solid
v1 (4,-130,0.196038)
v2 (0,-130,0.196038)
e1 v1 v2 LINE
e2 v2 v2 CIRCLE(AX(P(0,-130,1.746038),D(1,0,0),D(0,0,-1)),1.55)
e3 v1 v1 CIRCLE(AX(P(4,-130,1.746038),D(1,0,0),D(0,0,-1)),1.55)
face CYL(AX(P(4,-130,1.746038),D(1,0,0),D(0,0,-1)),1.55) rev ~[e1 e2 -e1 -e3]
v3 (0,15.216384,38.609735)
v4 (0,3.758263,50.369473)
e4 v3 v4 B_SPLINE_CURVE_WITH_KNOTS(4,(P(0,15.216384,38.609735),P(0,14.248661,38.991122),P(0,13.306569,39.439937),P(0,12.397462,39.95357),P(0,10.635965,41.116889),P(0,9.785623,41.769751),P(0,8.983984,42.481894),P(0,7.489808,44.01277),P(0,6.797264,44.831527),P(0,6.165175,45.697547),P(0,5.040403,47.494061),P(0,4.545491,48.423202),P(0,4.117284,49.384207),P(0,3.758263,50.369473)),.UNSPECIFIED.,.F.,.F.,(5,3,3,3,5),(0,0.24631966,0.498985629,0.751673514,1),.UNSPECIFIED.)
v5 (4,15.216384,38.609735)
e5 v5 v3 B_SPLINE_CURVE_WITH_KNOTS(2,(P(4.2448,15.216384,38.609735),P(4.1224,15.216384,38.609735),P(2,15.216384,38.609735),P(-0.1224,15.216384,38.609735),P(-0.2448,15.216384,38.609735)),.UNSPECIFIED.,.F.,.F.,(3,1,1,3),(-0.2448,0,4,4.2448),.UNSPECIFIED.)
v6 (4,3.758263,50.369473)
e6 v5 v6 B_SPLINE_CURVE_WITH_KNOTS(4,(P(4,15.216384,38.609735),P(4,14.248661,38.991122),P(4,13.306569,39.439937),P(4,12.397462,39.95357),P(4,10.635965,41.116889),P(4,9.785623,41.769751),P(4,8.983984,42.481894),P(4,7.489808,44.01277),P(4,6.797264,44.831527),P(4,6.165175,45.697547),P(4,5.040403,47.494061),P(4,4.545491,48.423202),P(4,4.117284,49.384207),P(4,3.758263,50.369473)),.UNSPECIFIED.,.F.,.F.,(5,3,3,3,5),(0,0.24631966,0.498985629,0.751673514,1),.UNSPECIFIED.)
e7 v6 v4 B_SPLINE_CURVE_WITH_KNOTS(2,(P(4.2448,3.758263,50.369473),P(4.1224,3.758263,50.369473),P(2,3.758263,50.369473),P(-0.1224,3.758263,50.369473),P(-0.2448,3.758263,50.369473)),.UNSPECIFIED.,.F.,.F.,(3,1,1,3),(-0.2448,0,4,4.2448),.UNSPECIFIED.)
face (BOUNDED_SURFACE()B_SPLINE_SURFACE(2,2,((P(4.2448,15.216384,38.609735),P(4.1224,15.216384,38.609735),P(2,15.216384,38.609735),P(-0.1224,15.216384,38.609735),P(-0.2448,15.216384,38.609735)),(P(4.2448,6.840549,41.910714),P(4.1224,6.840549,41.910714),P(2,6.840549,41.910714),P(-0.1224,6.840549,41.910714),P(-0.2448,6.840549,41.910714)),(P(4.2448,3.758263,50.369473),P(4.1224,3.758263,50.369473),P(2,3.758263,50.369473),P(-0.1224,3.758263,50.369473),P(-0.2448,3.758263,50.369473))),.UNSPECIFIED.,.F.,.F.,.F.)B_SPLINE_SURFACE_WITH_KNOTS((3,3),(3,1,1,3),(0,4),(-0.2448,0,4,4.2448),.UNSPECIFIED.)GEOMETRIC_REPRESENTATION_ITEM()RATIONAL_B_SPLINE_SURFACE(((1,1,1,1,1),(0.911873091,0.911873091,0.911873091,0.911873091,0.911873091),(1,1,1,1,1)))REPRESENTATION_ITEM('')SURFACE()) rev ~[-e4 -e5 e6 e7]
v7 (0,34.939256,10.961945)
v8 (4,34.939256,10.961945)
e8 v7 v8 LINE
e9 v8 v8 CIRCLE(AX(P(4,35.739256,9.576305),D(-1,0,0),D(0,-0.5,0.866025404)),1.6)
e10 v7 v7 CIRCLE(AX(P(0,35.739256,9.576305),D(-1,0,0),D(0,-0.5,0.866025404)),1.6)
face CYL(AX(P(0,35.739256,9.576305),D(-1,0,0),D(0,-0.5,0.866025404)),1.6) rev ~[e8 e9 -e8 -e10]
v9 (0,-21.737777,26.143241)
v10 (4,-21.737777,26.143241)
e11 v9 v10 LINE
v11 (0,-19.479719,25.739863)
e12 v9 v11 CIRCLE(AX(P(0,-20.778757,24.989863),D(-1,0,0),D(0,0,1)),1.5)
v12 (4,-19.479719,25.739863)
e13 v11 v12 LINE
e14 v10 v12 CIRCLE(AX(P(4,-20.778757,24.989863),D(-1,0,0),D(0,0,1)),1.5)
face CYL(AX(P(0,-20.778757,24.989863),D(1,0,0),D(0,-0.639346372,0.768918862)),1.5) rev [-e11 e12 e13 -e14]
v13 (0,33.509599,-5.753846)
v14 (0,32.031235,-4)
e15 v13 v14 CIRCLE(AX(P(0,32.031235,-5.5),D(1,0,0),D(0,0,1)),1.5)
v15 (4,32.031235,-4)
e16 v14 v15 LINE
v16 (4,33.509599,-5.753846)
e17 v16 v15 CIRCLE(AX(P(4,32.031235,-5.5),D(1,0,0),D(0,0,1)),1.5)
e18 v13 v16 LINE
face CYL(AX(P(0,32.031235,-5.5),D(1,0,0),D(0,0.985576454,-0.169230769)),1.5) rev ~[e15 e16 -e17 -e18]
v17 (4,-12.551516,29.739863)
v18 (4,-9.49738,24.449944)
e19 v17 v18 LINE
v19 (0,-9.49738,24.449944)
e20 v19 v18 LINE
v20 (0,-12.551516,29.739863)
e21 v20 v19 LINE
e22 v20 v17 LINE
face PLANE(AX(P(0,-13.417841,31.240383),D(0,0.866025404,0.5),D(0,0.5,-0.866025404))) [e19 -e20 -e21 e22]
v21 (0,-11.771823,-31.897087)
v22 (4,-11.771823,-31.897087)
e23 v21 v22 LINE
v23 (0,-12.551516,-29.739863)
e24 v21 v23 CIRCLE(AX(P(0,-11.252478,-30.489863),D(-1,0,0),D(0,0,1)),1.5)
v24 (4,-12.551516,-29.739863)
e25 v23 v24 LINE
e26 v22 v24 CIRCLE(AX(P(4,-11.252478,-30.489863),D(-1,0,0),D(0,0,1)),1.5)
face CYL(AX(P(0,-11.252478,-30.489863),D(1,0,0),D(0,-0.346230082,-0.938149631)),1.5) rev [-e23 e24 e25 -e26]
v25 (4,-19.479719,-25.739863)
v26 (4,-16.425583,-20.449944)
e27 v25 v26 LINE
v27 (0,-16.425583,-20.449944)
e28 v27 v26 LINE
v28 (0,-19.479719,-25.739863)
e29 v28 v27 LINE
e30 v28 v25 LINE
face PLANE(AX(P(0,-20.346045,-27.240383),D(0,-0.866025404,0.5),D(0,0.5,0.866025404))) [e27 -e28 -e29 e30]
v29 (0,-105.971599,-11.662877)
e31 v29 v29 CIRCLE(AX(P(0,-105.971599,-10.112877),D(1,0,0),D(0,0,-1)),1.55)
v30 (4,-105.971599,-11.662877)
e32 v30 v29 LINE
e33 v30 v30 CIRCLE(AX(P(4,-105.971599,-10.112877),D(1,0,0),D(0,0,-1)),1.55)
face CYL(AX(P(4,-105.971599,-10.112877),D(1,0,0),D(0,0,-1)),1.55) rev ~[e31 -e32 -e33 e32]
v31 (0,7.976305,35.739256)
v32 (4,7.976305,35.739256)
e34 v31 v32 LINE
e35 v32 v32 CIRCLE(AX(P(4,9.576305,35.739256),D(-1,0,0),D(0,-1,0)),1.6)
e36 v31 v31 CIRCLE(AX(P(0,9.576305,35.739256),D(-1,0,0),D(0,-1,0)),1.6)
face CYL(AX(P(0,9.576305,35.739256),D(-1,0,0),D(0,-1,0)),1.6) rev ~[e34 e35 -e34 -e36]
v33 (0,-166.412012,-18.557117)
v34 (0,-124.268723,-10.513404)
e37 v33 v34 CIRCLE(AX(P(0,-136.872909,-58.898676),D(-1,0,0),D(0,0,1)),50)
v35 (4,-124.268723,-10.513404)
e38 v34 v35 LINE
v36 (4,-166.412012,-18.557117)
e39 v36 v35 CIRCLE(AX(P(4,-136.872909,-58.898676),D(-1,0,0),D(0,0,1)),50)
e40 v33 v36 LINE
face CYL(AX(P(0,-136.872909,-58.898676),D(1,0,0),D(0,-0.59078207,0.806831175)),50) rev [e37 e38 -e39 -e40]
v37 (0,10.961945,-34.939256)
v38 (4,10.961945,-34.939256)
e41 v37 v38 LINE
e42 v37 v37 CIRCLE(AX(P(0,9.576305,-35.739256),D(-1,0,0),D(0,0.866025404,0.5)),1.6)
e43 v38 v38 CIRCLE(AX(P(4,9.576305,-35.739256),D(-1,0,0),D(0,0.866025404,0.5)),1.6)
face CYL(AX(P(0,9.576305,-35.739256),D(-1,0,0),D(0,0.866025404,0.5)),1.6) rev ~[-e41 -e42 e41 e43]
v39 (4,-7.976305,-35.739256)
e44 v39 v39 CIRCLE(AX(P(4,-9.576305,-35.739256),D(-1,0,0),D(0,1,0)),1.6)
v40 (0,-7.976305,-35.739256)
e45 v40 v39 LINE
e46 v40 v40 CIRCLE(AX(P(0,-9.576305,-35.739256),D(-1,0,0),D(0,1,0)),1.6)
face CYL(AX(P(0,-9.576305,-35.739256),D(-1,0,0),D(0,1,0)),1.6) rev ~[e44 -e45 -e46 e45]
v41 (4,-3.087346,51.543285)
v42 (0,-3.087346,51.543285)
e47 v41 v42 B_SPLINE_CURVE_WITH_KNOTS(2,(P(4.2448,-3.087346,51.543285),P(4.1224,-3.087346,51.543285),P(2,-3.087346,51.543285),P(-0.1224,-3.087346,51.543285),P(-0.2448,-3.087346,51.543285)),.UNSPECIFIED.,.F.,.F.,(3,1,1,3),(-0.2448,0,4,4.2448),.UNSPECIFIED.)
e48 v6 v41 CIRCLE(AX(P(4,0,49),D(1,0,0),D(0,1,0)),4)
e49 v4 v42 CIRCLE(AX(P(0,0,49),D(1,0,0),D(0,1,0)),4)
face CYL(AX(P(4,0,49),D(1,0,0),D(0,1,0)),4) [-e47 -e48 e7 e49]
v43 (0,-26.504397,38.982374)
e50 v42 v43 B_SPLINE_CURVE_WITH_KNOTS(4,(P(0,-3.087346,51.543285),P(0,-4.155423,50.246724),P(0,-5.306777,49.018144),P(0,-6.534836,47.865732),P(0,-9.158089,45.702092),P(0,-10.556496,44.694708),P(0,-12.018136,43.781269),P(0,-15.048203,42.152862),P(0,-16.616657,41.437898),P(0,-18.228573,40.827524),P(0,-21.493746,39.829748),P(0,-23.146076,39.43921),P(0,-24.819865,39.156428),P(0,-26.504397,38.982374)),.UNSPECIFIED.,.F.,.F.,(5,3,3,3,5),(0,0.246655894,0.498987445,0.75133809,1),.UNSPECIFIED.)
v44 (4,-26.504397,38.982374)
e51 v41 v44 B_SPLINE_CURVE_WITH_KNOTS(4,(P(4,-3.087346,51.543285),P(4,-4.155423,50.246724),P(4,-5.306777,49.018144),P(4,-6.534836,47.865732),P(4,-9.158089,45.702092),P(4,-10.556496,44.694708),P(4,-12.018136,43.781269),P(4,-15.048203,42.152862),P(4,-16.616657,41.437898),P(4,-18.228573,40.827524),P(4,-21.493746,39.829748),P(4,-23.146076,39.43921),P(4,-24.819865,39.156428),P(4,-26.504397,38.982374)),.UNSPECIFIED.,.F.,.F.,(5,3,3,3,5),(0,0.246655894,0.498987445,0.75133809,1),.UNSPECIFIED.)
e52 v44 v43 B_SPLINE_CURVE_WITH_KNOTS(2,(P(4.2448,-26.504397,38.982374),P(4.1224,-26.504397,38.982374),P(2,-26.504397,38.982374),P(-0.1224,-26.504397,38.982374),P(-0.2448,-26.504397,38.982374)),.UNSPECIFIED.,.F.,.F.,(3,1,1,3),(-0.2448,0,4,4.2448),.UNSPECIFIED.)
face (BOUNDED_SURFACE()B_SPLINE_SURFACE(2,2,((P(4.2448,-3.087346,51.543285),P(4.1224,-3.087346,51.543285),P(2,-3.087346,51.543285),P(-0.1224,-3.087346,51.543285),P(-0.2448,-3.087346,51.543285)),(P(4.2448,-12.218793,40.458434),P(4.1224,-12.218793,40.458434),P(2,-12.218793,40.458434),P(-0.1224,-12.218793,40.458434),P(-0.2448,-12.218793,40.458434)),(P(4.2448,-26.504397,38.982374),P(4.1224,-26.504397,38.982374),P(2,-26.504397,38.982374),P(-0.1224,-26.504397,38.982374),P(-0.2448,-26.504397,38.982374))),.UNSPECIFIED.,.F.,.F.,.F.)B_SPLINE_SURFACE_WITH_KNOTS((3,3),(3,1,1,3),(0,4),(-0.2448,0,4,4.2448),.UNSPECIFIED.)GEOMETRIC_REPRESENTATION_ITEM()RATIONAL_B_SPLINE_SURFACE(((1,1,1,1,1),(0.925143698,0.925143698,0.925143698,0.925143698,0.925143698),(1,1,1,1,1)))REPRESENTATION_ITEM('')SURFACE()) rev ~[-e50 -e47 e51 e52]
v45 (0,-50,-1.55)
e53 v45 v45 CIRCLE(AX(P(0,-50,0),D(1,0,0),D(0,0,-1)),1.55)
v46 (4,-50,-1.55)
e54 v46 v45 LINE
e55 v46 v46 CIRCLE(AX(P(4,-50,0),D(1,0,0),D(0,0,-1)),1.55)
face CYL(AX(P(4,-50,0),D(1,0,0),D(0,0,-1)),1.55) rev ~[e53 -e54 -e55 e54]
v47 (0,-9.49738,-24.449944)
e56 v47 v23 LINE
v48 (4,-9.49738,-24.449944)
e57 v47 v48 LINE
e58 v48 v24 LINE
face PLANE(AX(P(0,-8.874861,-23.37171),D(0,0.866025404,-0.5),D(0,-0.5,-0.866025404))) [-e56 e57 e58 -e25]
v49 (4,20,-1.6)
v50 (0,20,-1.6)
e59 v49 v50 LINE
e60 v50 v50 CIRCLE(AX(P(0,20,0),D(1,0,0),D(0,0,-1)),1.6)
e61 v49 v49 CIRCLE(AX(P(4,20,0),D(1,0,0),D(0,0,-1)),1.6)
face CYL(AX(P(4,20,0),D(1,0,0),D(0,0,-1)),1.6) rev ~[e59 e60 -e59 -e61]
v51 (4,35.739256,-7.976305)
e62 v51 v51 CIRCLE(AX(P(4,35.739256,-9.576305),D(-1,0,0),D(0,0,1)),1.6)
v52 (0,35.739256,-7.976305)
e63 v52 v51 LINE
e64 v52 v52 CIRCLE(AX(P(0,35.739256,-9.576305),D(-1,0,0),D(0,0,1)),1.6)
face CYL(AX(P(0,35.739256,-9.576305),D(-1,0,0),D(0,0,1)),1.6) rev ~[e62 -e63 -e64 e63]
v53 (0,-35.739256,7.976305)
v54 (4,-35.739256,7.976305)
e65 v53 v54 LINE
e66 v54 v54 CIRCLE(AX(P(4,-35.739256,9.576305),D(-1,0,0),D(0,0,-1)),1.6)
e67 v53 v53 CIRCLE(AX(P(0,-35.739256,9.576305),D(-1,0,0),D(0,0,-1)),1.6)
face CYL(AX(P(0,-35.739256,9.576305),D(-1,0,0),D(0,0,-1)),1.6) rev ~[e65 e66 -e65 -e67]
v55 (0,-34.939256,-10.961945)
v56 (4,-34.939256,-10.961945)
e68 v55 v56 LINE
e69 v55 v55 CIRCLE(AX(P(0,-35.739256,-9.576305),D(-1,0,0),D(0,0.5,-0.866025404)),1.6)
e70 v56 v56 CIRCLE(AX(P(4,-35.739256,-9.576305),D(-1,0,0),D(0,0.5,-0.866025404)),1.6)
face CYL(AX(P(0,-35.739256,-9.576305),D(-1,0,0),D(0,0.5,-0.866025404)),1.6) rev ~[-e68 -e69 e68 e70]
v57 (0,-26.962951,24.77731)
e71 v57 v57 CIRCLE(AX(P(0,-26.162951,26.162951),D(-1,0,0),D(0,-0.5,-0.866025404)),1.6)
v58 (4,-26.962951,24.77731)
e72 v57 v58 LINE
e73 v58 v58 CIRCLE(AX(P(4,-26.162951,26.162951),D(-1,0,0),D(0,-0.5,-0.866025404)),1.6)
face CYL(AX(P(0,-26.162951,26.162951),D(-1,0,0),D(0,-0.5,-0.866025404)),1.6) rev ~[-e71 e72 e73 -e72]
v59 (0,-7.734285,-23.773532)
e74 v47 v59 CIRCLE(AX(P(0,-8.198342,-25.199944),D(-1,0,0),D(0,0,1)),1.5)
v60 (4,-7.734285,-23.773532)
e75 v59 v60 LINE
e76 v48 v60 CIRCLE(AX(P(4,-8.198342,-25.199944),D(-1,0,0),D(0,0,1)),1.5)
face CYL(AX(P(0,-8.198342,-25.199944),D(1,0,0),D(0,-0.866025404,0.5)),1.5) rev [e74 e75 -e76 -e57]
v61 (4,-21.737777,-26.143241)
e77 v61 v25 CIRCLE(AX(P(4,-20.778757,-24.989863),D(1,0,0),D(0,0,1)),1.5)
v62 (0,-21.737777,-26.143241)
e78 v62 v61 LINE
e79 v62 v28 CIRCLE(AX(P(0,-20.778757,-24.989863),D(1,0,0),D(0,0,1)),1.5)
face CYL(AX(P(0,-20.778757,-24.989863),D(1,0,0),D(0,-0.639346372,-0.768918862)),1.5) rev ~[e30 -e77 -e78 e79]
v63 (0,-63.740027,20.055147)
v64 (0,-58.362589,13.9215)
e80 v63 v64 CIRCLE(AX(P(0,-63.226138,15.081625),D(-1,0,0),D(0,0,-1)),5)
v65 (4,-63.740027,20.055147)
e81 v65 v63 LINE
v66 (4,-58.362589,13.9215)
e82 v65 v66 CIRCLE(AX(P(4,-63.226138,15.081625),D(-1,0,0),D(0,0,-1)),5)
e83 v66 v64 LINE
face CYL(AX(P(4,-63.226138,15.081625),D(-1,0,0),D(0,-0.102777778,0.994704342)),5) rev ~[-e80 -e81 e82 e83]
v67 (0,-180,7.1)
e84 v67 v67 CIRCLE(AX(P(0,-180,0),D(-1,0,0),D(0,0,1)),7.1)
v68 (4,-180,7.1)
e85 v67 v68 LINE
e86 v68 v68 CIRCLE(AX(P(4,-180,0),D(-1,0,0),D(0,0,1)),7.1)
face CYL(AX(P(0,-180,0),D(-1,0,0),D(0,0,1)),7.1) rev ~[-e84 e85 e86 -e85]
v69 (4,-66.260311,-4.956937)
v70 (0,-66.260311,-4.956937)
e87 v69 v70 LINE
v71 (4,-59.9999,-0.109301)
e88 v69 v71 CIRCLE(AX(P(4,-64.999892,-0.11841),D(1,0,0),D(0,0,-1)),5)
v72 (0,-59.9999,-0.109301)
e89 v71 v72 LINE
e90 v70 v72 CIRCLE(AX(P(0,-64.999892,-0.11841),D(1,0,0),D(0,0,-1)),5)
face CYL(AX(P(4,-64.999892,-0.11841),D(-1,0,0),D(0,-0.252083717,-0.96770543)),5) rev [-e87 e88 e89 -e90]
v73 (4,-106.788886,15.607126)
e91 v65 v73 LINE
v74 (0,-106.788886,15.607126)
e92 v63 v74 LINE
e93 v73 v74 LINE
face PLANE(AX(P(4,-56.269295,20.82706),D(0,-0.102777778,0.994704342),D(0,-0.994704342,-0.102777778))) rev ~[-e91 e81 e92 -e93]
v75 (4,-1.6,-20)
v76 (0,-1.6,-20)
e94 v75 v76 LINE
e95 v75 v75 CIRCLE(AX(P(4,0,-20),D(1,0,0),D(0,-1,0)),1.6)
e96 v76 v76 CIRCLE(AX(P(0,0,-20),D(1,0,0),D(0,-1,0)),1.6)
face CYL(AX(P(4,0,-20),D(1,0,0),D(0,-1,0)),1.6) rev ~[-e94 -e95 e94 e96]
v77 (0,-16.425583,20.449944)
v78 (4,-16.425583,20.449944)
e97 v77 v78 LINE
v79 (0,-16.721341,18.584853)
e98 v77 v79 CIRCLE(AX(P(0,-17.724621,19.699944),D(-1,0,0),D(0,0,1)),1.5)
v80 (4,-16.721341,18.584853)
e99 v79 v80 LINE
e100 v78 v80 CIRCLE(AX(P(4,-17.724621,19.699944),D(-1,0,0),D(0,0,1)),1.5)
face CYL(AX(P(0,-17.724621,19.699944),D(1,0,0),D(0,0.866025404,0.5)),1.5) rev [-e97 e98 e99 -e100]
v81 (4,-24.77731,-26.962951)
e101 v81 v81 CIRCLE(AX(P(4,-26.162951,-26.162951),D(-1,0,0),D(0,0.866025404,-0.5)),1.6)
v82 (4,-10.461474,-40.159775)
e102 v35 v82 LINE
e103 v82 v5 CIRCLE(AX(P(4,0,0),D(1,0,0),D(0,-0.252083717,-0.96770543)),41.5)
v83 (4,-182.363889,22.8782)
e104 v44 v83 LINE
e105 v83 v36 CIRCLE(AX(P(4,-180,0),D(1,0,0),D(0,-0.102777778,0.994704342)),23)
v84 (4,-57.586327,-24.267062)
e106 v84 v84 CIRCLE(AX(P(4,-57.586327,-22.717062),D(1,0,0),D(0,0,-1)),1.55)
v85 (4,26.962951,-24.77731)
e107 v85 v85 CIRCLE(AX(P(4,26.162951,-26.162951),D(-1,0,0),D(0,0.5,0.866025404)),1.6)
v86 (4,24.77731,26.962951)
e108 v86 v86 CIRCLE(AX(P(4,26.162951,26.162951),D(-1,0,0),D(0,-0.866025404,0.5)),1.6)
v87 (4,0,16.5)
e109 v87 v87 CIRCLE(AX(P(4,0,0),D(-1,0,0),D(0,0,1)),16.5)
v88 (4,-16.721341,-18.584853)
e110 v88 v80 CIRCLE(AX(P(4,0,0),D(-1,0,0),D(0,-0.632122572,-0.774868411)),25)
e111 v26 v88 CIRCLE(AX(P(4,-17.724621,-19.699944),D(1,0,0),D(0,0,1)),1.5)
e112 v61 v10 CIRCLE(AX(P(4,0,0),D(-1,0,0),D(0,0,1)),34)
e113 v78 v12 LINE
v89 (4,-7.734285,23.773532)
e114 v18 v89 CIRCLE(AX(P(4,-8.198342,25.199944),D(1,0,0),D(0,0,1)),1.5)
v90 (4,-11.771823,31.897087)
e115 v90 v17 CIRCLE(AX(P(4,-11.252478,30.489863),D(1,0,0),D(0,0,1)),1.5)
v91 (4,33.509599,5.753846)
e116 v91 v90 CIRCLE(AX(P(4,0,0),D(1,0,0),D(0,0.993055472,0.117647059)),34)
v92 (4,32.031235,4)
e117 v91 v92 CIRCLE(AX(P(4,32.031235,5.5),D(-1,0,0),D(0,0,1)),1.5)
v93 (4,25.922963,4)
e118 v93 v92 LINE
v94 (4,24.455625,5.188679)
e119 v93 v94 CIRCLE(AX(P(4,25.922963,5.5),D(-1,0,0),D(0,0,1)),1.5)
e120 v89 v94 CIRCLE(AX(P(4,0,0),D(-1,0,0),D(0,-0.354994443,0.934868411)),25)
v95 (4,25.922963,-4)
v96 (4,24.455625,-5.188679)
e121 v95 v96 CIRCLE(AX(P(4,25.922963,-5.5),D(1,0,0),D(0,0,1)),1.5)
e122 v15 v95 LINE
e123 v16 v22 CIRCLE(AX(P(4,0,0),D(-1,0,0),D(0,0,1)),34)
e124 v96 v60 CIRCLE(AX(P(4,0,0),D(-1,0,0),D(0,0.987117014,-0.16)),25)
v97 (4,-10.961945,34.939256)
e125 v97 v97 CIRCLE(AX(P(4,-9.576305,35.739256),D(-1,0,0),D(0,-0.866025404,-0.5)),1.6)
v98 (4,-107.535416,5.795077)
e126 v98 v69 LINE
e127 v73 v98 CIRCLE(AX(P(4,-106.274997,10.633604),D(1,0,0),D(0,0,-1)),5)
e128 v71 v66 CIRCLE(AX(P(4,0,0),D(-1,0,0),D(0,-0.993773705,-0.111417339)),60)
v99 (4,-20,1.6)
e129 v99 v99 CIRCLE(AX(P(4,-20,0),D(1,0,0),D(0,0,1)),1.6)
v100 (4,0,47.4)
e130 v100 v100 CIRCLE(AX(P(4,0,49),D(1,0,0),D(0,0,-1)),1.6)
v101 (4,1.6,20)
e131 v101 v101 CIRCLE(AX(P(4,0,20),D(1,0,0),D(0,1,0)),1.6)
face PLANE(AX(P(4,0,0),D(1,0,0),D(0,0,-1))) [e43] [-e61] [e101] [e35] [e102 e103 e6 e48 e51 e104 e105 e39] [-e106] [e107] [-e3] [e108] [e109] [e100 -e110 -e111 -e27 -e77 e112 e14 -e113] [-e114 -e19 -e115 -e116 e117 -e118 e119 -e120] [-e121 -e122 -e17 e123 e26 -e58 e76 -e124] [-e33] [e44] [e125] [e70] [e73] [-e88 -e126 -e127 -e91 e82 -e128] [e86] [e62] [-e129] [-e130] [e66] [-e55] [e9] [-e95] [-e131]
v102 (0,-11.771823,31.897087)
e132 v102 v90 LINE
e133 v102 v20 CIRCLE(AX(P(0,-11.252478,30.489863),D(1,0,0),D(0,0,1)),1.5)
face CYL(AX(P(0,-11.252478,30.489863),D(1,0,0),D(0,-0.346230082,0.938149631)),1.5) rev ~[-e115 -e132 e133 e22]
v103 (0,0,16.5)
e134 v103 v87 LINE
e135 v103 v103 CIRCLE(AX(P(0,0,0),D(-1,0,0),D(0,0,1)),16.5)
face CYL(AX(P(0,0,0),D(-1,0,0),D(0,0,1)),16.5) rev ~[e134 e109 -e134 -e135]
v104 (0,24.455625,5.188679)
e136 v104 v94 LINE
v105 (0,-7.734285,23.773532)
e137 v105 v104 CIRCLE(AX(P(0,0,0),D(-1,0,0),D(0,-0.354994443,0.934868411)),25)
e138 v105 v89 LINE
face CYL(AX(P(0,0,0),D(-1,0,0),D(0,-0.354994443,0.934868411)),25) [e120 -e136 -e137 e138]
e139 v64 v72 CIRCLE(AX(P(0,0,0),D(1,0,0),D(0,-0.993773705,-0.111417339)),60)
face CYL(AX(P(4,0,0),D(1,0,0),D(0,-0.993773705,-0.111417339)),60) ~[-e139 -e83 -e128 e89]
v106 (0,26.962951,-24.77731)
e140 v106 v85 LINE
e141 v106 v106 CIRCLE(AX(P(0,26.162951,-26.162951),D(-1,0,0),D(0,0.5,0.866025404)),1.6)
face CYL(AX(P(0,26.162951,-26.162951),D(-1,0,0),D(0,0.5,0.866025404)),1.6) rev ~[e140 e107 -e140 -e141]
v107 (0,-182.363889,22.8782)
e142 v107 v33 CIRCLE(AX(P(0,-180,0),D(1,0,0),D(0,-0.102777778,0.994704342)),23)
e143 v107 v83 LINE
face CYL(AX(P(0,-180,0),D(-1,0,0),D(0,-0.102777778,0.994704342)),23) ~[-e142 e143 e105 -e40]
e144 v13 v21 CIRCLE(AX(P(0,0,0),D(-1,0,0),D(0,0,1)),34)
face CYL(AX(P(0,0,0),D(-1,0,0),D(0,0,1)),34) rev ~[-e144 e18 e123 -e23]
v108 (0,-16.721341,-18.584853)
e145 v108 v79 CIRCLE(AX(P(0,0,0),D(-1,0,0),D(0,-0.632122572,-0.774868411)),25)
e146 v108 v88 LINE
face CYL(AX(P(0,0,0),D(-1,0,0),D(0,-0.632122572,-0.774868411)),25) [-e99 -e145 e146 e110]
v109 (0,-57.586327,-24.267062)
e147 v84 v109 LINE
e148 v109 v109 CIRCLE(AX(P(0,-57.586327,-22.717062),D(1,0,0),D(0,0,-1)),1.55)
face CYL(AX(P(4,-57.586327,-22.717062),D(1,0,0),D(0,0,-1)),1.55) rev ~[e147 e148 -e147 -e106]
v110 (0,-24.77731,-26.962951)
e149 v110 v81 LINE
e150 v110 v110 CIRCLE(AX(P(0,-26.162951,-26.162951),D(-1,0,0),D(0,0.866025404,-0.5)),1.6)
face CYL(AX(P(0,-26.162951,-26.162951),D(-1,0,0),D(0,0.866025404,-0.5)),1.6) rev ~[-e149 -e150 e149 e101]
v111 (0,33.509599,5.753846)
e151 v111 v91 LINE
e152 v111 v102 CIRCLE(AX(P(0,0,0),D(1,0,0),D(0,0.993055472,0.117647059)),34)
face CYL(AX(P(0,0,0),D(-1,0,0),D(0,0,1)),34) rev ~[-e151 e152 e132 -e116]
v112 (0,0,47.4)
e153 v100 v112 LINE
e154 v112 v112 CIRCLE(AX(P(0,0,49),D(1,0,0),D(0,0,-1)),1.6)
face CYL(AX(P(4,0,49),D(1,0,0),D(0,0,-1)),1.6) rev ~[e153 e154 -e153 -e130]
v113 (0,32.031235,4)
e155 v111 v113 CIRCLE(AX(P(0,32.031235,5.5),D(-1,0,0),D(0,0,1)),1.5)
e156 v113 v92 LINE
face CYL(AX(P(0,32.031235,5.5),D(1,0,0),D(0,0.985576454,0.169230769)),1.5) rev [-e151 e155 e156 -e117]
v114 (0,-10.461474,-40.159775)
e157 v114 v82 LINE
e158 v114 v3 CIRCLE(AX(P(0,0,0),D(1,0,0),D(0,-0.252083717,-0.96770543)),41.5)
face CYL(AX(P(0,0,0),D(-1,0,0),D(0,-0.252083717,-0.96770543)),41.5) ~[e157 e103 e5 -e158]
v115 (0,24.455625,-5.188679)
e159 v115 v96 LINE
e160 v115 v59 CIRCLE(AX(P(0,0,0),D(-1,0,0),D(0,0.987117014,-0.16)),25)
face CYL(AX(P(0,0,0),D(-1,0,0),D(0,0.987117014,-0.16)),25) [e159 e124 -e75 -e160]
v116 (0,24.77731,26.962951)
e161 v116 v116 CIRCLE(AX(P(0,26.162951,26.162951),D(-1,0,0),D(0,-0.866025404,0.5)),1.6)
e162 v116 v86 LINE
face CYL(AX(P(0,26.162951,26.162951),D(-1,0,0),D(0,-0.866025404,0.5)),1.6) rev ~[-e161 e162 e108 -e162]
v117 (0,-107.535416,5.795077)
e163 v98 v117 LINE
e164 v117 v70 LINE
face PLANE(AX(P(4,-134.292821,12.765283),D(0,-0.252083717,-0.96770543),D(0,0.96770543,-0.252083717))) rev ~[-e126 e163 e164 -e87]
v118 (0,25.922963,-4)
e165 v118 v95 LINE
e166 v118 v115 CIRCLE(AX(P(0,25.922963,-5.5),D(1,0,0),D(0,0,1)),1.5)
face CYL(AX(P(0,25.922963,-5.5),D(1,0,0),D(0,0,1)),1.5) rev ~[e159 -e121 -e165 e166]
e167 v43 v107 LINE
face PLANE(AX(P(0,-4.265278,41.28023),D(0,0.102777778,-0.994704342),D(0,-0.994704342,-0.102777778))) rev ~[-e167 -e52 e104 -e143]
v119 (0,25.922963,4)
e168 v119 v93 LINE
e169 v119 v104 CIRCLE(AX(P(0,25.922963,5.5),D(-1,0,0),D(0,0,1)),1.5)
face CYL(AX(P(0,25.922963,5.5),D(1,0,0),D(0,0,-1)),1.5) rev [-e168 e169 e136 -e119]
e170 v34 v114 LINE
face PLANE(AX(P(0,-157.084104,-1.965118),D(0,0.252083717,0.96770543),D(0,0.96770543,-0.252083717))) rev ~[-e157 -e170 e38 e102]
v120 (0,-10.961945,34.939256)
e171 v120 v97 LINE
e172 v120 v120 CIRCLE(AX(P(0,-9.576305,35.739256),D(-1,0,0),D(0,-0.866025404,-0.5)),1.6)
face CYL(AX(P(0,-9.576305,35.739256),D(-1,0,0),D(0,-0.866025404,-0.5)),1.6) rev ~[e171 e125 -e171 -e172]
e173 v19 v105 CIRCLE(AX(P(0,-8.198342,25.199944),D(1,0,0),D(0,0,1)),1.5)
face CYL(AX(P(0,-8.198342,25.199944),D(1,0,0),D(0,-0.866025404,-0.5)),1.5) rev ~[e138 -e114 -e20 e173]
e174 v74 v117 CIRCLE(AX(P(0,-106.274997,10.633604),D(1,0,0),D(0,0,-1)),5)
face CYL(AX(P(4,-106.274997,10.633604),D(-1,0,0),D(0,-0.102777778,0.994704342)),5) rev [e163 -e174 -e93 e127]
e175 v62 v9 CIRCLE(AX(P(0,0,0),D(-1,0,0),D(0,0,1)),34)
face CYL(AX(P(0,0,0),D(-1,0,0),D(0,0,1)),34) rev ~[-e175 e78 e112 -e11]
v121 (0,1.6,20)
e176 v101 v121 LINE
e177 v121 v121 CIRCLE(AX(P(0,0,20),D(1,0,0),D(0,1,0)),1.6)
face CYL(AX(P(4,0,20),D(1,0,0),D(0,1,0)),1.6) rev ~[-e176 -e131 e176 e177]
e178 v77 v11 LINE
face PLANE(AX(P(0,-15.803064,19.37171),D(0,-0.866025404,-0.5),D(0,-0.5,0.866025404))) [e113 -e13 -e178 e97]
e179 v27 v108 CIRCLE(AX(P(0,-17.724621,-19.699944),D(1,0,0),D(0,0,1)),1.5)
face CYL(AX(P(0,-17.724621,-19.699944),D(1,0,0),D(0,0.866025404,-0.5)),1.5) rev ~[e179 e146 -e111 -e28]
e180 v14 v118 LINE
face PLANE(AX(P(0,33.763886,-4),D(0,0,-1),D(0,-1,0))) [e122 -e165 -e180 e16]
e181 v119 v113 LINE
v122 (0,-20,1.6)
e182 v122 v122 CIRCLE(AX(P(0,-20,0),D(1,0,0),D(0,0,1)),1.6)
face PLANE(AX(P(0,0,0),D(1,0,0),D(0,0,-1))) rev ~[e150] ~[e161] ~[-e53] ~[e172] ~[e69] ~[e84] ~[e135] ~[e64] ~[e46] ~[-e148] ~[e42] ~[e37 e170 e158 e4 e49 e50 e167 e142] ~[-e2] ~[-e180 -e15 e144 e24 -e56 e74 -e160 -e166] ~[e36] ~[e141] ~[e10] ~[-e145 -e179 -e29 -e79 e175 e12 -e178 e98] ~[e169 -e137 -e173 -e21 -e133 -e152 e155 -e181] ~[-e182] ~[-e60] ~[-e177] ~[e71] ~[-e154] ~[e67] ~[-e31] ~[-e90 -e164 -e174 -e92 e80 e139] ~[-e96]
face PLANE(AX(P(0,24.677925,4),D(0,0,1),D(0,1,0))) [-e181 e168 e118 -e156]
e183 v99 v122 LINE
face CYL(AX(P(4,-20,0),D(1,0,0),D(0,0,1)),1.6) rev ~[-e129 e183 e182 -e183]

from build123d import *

# Parameters (mm, degrees)
SKETCH_1_R               = 41.5
SKETCH_1_R_2             = 23
EXTRUDE_1_DEPTH          = 4
SKETCH_3_R               = 34
SKETCH_3_R_2             = 7.1
CUT_EXTRUDE_2_DEPTH      = 4
SKETCH_2_R               = 1.6
CUT_EXTRUDE_1_DEPTH      = 4
PATTERN_CIRCULAR_1_COUNT = 12
FILLET_1_R               = 50
SKETCH_4_R               = 1.6
EXTRUDE_2_DEPTH          = 4
FILLET_2_R               = 20
SKETCH_5_R               = 1.55
CUT_EXTRUDE_3_DEPTH      = 44
SKETCH_6_R               = 1.55
CUT_EXTRUDE_4_DEPTH      = 4
SKETCH_7_R               = 16.5
EXTRUDE_3_DEPTH          = 4
SKETCH_8_R               = 1.6
CUT_EXTRUDE_5_DEPTH      = 5
PATTERN_CIRCULAR_3_COUNT = 4
FILLET_3_R               = 1.5
SKETCH_9_R               = 1.55
CUT_EXTRUDE_6_DEPTH      = 10
FILLET_4_R               = 35
CUT_EXTRUDE_7_DEPTH      = 10
FILLET_5_R               = 5


with BuildPart() as part:
    # 草图1 → 凸台-拉伸1 (new body)
    with BuildSketch(Plane(origin=(0, 0, 0), x_dir=(0, 0, -1), z_dir=(1, 0, 0))):
        Circle(SKETCH_1_R)
        with BuildLine():
            Line((1.96511799, -157.084103524), (40.159775356, -10.461474243))
            ThreePointArc((40.159775356, -10.461474243), (-3.1483436, -41.380405177), (-41.280230201, -4.265277778))
            Line((-41.280230201, -4.265277778), (-22.878199871, -182.363888889))
            ThreePointArc((-22.878199871, -182.363888889), (-16.404454744, -163.87877596), (1.96511799, -157.084103524))
        make_face()
        with Locations((0, -180)):
            Circle(SKETCH_1_R_2)
    extrude(amount=EXTRUDE_1_DEPTH)

    # 草图3 → 切除-拉伸2 (cut)
    with BuildSketch(Plane.ZY):
        Circle(SKETCH_3_R)
        with Locations((0, -180)):
            Circle(SKETCH_3_R_2)
    extrude(amount=-CUT_EXTRUDE_2_DEPTH, mode=Mode.SUBTRACT)

    # 草图2 → 切除-拉伸1 (cut)
    with BuildSketch(Plane.ZY):
        with Locations((-9.576304669, 35.739255573)):
            Circle(SKETCH_2_R)
    cut_extrude_1 = extrude(amount=-CUT_EXTRUDE_1_DEPTH, mode=Mode.SUBTRACT)

    # 阵列(圆周)1: 切除-拉伸1 ×12 about axis
    pattern_circular_1_axis = Axis((0, 0, 0), (1, 0, 0))
    for i in range(1, PATTERN_CIRCULAR_1_COUNT):
        add(cut_extrude_1.rotate(pattern_circular_1_axis, i * 360 / PATTERN_CIRCULAR_1_COUNT), mode=Mode.SUBTRACT)

    # 圆角1
    fillet_1_edges = [part.edges().sort_by_distance(p)[0] for p in [
        (2, -157.084103524, -1.96511799),
    ]]
    fillet(fillet_1_edges, radius=FILLET_1_R)

    # 草图4 → 凸台-拉伸2 (add)
    with BuildSketch(Plane(origin=(4, 0, 0), x_dir=(0, 0, -1), z_dir=(1, 0, 0))):
        with BuildLine():
            Line((-49, -4), (-41.306779105, -4))
            ThreePointArc((-41.306779105, -4), (-41.5, 0), (-41.306779105, 4))
            Line((-41.306779105, 4), (-49, 4))
            ThreePointArc((-49, 4), (-53, 0), (-49, -4))
        make_face()
        with Locations((-49, 0)):
            Circle(SKETCH_4_R, mode=Mode.SUBTRACT)
    extrude(amount=-EXTRUDE_2_DEPTH)

    # 圆角2
    fillet_2_edges = [part.edges().sort_by_distance(p)[0] for p in [
        (2, 4, 41.306779105),
    ]]
    fillet(fillet_2_edges, radius=FILLET_2_R)

    # 草图5 → 切除-拉伸3 (cut)
    with BuildSketch(Plane(origin=(4, 0, 0), x_dir=(0, 0, -1), z_dir=(1, 0, 0))):
        with Locations((22.71706237, -57.586327173)):
            Circle(SKETCH_5_R)
        with Locations((10.112876536, -105.971598687)):
            Circle(SKETCH_5_R)
    extrude(amount=-CUT_EXTRUDE_3_DEPTH, mode=Mode.SUBTRACT)

    # 草图6 → 切除-拉伸4 (cut)
    with BuildSketch(Plane(origin=(4, 0, 0), x_dir=(0, 0, -1), z_dir=(1, 0, 0))):
        with Locations((0, -50)):
            Circle(SKETCH_6_R)
    extrude(amount=-CUT_EXTRUDE_4_DEPTH, mode=Mode.SUBTRACT)

    # 草图7 → 凸台-拉伸3 (add)
    with BuildSketch(Plane.ZY):
        with BuildLine():
            ThreePointArc((4, 33.763886032), (0, 34), (-4, 33.763886032))
            Line((-4, 33.763886032), (-4, 24.677925359))
            ThreePointArc((-4, 24.677925359), (-21.650635095, 12.5), (-23.371710273, -8.874861064))
            Line((-23.371710273, -8.874861064), (-31.240383034, -13.417841401))
            ThreePointArc((-31.240383034, -13.417841401), (-29.444863729, -17), (-27.240383034, -20.346044631))
            Line((-27.240383034, -20.346044631), (-19.371710273, -15.803064294))
            ThreePointArc((-19.371710273, -15.803064294), (0, -25), (19.371710273, -15.803064294))
            Line((19.371710273, -15.803064294), (27.240383034, -20.346044631))
            ThreePointArc((27.240383034, -20.346044631), (29.444863729, -17), (31.240383034, -13.417841401))
            Line((31.240383034, -13.417841401), (23.371710273, -8.874861064))
            ThreePointArc((23.371710273, -8.874861064), (21.650635095, 12.5), (4, 24.677925359))
            Line((4, 24.677925359), (4, 33.763886032))
        make_face()
        Circle(SKETCH_7_R, mode=Mode.SUBTRACT)
    extrude(amount=-EXTRUDE_3_DEPTH)

    # 草图8 → 切除-拉伸5 (cut)
    with BuildSketch(Plane(origin=(4, 0, 0), x_dir=(0, 0, -1), z_dir=(1, 0, 0))):
        with Locations((0, 20)):
            Circle(SKETCH_8_R)
    cut_extrude_5 = extrude(amount=-CUT_EXTRUDE_5_DEPTH, mode=Mode.SUBTRACT)

    # 阵列(圆周)3: 切除-拉伸5 ×4 about axis
    pattern_circular_3_axis = Axis((0, 0, 0), (1, 0, 0))
    for i in range(1, PATTERN_CIRCULAR_3_COUNT):
        add(cut_extrude_5.rotate(pattern_circular_3_axis, i * 360 / PATTERN_CIRCULAR_3_COUNT), mode=Mode.SUBTRACT)

    # 圆角3
    fillet_3_edges = [part.edges().sort_by_distance(p)[0] for p in [
        (2, 24.677925359, -4),
        (2, 33.763886032, -4),
        (2, 33.763886032, 4),
        (2, 24.677925359, 4),
        (2, -8.874861064, 23.371710273),
        (2, -13.417841401, 31.240383034),
        (2, -20.346044631, 27.240383034),
        (2, -15.803064294, 19.371710273),
        (2, -15.803064294, -19.371710273),
        (2, -20.346044631, -27.240383034),
        (2, -13.417841401, -31.240383034),
        (2, -8.874861064, -23.371710273),
    ]]
    fillet(fillet_3_edges, radius=FILLET_3_R)

    # 草图9 → 切除-拉伸6 (cut)
    with BuildSketch(Plane(origin=(4, 0, 0), x_dir=(0, 0, -1), z_dir=(1, 0, 0))):
        with Locations((-1.746038475, -130)):
            Circle(SKETCH_9_R)
    extrude(amount=-CUT_EXTRUDE_6_DEPTH, mode=Mode.SUBTRACT)

    # 圆角4
    fillet_4_edges = [part.edges().sort_by_distance(p)[0] for p in [
        (2, -4, 41.306779105),
    ]]
    fillet(fillet_4_edges, radius=FILLET_4_R)

    # 草图10 → 切除-拉伸7 (cut)
    with BuildSketch(Plane(origin=(4, 0, 0), x_dir=(0, 0, -1), z_dir=(1, 0, 0))):
        with BuildLine():
            Line((-20.827059869, -56.269295155), (-12.765282828, -134.292821272))
            Line((-12.765282828, -134.292821272), (6.685040357, -59.626422293))
            ThreePointArc((6.685040357, -59.626422293), (-7.267513648, -59.558234069), (-20.827059869, -56.269295155))
        make_face()
    extrude(amount=-CUT_EXTRUDE_7_DEPTH, mode=Mode.SUBTRACT)

    # 圆角5
    fillet_5_edges = [part.edges().sort_by_distance(p)[0] for p in [
        (2, -56.269295155, 20.827059869),
        (2, -59.626422293, -6.685040357),
        (2, -134.292821272, 12.765282828),
    ]]
    fillet(fillet_5_edges, radius=FILLET_5_R)


solid = part.part
